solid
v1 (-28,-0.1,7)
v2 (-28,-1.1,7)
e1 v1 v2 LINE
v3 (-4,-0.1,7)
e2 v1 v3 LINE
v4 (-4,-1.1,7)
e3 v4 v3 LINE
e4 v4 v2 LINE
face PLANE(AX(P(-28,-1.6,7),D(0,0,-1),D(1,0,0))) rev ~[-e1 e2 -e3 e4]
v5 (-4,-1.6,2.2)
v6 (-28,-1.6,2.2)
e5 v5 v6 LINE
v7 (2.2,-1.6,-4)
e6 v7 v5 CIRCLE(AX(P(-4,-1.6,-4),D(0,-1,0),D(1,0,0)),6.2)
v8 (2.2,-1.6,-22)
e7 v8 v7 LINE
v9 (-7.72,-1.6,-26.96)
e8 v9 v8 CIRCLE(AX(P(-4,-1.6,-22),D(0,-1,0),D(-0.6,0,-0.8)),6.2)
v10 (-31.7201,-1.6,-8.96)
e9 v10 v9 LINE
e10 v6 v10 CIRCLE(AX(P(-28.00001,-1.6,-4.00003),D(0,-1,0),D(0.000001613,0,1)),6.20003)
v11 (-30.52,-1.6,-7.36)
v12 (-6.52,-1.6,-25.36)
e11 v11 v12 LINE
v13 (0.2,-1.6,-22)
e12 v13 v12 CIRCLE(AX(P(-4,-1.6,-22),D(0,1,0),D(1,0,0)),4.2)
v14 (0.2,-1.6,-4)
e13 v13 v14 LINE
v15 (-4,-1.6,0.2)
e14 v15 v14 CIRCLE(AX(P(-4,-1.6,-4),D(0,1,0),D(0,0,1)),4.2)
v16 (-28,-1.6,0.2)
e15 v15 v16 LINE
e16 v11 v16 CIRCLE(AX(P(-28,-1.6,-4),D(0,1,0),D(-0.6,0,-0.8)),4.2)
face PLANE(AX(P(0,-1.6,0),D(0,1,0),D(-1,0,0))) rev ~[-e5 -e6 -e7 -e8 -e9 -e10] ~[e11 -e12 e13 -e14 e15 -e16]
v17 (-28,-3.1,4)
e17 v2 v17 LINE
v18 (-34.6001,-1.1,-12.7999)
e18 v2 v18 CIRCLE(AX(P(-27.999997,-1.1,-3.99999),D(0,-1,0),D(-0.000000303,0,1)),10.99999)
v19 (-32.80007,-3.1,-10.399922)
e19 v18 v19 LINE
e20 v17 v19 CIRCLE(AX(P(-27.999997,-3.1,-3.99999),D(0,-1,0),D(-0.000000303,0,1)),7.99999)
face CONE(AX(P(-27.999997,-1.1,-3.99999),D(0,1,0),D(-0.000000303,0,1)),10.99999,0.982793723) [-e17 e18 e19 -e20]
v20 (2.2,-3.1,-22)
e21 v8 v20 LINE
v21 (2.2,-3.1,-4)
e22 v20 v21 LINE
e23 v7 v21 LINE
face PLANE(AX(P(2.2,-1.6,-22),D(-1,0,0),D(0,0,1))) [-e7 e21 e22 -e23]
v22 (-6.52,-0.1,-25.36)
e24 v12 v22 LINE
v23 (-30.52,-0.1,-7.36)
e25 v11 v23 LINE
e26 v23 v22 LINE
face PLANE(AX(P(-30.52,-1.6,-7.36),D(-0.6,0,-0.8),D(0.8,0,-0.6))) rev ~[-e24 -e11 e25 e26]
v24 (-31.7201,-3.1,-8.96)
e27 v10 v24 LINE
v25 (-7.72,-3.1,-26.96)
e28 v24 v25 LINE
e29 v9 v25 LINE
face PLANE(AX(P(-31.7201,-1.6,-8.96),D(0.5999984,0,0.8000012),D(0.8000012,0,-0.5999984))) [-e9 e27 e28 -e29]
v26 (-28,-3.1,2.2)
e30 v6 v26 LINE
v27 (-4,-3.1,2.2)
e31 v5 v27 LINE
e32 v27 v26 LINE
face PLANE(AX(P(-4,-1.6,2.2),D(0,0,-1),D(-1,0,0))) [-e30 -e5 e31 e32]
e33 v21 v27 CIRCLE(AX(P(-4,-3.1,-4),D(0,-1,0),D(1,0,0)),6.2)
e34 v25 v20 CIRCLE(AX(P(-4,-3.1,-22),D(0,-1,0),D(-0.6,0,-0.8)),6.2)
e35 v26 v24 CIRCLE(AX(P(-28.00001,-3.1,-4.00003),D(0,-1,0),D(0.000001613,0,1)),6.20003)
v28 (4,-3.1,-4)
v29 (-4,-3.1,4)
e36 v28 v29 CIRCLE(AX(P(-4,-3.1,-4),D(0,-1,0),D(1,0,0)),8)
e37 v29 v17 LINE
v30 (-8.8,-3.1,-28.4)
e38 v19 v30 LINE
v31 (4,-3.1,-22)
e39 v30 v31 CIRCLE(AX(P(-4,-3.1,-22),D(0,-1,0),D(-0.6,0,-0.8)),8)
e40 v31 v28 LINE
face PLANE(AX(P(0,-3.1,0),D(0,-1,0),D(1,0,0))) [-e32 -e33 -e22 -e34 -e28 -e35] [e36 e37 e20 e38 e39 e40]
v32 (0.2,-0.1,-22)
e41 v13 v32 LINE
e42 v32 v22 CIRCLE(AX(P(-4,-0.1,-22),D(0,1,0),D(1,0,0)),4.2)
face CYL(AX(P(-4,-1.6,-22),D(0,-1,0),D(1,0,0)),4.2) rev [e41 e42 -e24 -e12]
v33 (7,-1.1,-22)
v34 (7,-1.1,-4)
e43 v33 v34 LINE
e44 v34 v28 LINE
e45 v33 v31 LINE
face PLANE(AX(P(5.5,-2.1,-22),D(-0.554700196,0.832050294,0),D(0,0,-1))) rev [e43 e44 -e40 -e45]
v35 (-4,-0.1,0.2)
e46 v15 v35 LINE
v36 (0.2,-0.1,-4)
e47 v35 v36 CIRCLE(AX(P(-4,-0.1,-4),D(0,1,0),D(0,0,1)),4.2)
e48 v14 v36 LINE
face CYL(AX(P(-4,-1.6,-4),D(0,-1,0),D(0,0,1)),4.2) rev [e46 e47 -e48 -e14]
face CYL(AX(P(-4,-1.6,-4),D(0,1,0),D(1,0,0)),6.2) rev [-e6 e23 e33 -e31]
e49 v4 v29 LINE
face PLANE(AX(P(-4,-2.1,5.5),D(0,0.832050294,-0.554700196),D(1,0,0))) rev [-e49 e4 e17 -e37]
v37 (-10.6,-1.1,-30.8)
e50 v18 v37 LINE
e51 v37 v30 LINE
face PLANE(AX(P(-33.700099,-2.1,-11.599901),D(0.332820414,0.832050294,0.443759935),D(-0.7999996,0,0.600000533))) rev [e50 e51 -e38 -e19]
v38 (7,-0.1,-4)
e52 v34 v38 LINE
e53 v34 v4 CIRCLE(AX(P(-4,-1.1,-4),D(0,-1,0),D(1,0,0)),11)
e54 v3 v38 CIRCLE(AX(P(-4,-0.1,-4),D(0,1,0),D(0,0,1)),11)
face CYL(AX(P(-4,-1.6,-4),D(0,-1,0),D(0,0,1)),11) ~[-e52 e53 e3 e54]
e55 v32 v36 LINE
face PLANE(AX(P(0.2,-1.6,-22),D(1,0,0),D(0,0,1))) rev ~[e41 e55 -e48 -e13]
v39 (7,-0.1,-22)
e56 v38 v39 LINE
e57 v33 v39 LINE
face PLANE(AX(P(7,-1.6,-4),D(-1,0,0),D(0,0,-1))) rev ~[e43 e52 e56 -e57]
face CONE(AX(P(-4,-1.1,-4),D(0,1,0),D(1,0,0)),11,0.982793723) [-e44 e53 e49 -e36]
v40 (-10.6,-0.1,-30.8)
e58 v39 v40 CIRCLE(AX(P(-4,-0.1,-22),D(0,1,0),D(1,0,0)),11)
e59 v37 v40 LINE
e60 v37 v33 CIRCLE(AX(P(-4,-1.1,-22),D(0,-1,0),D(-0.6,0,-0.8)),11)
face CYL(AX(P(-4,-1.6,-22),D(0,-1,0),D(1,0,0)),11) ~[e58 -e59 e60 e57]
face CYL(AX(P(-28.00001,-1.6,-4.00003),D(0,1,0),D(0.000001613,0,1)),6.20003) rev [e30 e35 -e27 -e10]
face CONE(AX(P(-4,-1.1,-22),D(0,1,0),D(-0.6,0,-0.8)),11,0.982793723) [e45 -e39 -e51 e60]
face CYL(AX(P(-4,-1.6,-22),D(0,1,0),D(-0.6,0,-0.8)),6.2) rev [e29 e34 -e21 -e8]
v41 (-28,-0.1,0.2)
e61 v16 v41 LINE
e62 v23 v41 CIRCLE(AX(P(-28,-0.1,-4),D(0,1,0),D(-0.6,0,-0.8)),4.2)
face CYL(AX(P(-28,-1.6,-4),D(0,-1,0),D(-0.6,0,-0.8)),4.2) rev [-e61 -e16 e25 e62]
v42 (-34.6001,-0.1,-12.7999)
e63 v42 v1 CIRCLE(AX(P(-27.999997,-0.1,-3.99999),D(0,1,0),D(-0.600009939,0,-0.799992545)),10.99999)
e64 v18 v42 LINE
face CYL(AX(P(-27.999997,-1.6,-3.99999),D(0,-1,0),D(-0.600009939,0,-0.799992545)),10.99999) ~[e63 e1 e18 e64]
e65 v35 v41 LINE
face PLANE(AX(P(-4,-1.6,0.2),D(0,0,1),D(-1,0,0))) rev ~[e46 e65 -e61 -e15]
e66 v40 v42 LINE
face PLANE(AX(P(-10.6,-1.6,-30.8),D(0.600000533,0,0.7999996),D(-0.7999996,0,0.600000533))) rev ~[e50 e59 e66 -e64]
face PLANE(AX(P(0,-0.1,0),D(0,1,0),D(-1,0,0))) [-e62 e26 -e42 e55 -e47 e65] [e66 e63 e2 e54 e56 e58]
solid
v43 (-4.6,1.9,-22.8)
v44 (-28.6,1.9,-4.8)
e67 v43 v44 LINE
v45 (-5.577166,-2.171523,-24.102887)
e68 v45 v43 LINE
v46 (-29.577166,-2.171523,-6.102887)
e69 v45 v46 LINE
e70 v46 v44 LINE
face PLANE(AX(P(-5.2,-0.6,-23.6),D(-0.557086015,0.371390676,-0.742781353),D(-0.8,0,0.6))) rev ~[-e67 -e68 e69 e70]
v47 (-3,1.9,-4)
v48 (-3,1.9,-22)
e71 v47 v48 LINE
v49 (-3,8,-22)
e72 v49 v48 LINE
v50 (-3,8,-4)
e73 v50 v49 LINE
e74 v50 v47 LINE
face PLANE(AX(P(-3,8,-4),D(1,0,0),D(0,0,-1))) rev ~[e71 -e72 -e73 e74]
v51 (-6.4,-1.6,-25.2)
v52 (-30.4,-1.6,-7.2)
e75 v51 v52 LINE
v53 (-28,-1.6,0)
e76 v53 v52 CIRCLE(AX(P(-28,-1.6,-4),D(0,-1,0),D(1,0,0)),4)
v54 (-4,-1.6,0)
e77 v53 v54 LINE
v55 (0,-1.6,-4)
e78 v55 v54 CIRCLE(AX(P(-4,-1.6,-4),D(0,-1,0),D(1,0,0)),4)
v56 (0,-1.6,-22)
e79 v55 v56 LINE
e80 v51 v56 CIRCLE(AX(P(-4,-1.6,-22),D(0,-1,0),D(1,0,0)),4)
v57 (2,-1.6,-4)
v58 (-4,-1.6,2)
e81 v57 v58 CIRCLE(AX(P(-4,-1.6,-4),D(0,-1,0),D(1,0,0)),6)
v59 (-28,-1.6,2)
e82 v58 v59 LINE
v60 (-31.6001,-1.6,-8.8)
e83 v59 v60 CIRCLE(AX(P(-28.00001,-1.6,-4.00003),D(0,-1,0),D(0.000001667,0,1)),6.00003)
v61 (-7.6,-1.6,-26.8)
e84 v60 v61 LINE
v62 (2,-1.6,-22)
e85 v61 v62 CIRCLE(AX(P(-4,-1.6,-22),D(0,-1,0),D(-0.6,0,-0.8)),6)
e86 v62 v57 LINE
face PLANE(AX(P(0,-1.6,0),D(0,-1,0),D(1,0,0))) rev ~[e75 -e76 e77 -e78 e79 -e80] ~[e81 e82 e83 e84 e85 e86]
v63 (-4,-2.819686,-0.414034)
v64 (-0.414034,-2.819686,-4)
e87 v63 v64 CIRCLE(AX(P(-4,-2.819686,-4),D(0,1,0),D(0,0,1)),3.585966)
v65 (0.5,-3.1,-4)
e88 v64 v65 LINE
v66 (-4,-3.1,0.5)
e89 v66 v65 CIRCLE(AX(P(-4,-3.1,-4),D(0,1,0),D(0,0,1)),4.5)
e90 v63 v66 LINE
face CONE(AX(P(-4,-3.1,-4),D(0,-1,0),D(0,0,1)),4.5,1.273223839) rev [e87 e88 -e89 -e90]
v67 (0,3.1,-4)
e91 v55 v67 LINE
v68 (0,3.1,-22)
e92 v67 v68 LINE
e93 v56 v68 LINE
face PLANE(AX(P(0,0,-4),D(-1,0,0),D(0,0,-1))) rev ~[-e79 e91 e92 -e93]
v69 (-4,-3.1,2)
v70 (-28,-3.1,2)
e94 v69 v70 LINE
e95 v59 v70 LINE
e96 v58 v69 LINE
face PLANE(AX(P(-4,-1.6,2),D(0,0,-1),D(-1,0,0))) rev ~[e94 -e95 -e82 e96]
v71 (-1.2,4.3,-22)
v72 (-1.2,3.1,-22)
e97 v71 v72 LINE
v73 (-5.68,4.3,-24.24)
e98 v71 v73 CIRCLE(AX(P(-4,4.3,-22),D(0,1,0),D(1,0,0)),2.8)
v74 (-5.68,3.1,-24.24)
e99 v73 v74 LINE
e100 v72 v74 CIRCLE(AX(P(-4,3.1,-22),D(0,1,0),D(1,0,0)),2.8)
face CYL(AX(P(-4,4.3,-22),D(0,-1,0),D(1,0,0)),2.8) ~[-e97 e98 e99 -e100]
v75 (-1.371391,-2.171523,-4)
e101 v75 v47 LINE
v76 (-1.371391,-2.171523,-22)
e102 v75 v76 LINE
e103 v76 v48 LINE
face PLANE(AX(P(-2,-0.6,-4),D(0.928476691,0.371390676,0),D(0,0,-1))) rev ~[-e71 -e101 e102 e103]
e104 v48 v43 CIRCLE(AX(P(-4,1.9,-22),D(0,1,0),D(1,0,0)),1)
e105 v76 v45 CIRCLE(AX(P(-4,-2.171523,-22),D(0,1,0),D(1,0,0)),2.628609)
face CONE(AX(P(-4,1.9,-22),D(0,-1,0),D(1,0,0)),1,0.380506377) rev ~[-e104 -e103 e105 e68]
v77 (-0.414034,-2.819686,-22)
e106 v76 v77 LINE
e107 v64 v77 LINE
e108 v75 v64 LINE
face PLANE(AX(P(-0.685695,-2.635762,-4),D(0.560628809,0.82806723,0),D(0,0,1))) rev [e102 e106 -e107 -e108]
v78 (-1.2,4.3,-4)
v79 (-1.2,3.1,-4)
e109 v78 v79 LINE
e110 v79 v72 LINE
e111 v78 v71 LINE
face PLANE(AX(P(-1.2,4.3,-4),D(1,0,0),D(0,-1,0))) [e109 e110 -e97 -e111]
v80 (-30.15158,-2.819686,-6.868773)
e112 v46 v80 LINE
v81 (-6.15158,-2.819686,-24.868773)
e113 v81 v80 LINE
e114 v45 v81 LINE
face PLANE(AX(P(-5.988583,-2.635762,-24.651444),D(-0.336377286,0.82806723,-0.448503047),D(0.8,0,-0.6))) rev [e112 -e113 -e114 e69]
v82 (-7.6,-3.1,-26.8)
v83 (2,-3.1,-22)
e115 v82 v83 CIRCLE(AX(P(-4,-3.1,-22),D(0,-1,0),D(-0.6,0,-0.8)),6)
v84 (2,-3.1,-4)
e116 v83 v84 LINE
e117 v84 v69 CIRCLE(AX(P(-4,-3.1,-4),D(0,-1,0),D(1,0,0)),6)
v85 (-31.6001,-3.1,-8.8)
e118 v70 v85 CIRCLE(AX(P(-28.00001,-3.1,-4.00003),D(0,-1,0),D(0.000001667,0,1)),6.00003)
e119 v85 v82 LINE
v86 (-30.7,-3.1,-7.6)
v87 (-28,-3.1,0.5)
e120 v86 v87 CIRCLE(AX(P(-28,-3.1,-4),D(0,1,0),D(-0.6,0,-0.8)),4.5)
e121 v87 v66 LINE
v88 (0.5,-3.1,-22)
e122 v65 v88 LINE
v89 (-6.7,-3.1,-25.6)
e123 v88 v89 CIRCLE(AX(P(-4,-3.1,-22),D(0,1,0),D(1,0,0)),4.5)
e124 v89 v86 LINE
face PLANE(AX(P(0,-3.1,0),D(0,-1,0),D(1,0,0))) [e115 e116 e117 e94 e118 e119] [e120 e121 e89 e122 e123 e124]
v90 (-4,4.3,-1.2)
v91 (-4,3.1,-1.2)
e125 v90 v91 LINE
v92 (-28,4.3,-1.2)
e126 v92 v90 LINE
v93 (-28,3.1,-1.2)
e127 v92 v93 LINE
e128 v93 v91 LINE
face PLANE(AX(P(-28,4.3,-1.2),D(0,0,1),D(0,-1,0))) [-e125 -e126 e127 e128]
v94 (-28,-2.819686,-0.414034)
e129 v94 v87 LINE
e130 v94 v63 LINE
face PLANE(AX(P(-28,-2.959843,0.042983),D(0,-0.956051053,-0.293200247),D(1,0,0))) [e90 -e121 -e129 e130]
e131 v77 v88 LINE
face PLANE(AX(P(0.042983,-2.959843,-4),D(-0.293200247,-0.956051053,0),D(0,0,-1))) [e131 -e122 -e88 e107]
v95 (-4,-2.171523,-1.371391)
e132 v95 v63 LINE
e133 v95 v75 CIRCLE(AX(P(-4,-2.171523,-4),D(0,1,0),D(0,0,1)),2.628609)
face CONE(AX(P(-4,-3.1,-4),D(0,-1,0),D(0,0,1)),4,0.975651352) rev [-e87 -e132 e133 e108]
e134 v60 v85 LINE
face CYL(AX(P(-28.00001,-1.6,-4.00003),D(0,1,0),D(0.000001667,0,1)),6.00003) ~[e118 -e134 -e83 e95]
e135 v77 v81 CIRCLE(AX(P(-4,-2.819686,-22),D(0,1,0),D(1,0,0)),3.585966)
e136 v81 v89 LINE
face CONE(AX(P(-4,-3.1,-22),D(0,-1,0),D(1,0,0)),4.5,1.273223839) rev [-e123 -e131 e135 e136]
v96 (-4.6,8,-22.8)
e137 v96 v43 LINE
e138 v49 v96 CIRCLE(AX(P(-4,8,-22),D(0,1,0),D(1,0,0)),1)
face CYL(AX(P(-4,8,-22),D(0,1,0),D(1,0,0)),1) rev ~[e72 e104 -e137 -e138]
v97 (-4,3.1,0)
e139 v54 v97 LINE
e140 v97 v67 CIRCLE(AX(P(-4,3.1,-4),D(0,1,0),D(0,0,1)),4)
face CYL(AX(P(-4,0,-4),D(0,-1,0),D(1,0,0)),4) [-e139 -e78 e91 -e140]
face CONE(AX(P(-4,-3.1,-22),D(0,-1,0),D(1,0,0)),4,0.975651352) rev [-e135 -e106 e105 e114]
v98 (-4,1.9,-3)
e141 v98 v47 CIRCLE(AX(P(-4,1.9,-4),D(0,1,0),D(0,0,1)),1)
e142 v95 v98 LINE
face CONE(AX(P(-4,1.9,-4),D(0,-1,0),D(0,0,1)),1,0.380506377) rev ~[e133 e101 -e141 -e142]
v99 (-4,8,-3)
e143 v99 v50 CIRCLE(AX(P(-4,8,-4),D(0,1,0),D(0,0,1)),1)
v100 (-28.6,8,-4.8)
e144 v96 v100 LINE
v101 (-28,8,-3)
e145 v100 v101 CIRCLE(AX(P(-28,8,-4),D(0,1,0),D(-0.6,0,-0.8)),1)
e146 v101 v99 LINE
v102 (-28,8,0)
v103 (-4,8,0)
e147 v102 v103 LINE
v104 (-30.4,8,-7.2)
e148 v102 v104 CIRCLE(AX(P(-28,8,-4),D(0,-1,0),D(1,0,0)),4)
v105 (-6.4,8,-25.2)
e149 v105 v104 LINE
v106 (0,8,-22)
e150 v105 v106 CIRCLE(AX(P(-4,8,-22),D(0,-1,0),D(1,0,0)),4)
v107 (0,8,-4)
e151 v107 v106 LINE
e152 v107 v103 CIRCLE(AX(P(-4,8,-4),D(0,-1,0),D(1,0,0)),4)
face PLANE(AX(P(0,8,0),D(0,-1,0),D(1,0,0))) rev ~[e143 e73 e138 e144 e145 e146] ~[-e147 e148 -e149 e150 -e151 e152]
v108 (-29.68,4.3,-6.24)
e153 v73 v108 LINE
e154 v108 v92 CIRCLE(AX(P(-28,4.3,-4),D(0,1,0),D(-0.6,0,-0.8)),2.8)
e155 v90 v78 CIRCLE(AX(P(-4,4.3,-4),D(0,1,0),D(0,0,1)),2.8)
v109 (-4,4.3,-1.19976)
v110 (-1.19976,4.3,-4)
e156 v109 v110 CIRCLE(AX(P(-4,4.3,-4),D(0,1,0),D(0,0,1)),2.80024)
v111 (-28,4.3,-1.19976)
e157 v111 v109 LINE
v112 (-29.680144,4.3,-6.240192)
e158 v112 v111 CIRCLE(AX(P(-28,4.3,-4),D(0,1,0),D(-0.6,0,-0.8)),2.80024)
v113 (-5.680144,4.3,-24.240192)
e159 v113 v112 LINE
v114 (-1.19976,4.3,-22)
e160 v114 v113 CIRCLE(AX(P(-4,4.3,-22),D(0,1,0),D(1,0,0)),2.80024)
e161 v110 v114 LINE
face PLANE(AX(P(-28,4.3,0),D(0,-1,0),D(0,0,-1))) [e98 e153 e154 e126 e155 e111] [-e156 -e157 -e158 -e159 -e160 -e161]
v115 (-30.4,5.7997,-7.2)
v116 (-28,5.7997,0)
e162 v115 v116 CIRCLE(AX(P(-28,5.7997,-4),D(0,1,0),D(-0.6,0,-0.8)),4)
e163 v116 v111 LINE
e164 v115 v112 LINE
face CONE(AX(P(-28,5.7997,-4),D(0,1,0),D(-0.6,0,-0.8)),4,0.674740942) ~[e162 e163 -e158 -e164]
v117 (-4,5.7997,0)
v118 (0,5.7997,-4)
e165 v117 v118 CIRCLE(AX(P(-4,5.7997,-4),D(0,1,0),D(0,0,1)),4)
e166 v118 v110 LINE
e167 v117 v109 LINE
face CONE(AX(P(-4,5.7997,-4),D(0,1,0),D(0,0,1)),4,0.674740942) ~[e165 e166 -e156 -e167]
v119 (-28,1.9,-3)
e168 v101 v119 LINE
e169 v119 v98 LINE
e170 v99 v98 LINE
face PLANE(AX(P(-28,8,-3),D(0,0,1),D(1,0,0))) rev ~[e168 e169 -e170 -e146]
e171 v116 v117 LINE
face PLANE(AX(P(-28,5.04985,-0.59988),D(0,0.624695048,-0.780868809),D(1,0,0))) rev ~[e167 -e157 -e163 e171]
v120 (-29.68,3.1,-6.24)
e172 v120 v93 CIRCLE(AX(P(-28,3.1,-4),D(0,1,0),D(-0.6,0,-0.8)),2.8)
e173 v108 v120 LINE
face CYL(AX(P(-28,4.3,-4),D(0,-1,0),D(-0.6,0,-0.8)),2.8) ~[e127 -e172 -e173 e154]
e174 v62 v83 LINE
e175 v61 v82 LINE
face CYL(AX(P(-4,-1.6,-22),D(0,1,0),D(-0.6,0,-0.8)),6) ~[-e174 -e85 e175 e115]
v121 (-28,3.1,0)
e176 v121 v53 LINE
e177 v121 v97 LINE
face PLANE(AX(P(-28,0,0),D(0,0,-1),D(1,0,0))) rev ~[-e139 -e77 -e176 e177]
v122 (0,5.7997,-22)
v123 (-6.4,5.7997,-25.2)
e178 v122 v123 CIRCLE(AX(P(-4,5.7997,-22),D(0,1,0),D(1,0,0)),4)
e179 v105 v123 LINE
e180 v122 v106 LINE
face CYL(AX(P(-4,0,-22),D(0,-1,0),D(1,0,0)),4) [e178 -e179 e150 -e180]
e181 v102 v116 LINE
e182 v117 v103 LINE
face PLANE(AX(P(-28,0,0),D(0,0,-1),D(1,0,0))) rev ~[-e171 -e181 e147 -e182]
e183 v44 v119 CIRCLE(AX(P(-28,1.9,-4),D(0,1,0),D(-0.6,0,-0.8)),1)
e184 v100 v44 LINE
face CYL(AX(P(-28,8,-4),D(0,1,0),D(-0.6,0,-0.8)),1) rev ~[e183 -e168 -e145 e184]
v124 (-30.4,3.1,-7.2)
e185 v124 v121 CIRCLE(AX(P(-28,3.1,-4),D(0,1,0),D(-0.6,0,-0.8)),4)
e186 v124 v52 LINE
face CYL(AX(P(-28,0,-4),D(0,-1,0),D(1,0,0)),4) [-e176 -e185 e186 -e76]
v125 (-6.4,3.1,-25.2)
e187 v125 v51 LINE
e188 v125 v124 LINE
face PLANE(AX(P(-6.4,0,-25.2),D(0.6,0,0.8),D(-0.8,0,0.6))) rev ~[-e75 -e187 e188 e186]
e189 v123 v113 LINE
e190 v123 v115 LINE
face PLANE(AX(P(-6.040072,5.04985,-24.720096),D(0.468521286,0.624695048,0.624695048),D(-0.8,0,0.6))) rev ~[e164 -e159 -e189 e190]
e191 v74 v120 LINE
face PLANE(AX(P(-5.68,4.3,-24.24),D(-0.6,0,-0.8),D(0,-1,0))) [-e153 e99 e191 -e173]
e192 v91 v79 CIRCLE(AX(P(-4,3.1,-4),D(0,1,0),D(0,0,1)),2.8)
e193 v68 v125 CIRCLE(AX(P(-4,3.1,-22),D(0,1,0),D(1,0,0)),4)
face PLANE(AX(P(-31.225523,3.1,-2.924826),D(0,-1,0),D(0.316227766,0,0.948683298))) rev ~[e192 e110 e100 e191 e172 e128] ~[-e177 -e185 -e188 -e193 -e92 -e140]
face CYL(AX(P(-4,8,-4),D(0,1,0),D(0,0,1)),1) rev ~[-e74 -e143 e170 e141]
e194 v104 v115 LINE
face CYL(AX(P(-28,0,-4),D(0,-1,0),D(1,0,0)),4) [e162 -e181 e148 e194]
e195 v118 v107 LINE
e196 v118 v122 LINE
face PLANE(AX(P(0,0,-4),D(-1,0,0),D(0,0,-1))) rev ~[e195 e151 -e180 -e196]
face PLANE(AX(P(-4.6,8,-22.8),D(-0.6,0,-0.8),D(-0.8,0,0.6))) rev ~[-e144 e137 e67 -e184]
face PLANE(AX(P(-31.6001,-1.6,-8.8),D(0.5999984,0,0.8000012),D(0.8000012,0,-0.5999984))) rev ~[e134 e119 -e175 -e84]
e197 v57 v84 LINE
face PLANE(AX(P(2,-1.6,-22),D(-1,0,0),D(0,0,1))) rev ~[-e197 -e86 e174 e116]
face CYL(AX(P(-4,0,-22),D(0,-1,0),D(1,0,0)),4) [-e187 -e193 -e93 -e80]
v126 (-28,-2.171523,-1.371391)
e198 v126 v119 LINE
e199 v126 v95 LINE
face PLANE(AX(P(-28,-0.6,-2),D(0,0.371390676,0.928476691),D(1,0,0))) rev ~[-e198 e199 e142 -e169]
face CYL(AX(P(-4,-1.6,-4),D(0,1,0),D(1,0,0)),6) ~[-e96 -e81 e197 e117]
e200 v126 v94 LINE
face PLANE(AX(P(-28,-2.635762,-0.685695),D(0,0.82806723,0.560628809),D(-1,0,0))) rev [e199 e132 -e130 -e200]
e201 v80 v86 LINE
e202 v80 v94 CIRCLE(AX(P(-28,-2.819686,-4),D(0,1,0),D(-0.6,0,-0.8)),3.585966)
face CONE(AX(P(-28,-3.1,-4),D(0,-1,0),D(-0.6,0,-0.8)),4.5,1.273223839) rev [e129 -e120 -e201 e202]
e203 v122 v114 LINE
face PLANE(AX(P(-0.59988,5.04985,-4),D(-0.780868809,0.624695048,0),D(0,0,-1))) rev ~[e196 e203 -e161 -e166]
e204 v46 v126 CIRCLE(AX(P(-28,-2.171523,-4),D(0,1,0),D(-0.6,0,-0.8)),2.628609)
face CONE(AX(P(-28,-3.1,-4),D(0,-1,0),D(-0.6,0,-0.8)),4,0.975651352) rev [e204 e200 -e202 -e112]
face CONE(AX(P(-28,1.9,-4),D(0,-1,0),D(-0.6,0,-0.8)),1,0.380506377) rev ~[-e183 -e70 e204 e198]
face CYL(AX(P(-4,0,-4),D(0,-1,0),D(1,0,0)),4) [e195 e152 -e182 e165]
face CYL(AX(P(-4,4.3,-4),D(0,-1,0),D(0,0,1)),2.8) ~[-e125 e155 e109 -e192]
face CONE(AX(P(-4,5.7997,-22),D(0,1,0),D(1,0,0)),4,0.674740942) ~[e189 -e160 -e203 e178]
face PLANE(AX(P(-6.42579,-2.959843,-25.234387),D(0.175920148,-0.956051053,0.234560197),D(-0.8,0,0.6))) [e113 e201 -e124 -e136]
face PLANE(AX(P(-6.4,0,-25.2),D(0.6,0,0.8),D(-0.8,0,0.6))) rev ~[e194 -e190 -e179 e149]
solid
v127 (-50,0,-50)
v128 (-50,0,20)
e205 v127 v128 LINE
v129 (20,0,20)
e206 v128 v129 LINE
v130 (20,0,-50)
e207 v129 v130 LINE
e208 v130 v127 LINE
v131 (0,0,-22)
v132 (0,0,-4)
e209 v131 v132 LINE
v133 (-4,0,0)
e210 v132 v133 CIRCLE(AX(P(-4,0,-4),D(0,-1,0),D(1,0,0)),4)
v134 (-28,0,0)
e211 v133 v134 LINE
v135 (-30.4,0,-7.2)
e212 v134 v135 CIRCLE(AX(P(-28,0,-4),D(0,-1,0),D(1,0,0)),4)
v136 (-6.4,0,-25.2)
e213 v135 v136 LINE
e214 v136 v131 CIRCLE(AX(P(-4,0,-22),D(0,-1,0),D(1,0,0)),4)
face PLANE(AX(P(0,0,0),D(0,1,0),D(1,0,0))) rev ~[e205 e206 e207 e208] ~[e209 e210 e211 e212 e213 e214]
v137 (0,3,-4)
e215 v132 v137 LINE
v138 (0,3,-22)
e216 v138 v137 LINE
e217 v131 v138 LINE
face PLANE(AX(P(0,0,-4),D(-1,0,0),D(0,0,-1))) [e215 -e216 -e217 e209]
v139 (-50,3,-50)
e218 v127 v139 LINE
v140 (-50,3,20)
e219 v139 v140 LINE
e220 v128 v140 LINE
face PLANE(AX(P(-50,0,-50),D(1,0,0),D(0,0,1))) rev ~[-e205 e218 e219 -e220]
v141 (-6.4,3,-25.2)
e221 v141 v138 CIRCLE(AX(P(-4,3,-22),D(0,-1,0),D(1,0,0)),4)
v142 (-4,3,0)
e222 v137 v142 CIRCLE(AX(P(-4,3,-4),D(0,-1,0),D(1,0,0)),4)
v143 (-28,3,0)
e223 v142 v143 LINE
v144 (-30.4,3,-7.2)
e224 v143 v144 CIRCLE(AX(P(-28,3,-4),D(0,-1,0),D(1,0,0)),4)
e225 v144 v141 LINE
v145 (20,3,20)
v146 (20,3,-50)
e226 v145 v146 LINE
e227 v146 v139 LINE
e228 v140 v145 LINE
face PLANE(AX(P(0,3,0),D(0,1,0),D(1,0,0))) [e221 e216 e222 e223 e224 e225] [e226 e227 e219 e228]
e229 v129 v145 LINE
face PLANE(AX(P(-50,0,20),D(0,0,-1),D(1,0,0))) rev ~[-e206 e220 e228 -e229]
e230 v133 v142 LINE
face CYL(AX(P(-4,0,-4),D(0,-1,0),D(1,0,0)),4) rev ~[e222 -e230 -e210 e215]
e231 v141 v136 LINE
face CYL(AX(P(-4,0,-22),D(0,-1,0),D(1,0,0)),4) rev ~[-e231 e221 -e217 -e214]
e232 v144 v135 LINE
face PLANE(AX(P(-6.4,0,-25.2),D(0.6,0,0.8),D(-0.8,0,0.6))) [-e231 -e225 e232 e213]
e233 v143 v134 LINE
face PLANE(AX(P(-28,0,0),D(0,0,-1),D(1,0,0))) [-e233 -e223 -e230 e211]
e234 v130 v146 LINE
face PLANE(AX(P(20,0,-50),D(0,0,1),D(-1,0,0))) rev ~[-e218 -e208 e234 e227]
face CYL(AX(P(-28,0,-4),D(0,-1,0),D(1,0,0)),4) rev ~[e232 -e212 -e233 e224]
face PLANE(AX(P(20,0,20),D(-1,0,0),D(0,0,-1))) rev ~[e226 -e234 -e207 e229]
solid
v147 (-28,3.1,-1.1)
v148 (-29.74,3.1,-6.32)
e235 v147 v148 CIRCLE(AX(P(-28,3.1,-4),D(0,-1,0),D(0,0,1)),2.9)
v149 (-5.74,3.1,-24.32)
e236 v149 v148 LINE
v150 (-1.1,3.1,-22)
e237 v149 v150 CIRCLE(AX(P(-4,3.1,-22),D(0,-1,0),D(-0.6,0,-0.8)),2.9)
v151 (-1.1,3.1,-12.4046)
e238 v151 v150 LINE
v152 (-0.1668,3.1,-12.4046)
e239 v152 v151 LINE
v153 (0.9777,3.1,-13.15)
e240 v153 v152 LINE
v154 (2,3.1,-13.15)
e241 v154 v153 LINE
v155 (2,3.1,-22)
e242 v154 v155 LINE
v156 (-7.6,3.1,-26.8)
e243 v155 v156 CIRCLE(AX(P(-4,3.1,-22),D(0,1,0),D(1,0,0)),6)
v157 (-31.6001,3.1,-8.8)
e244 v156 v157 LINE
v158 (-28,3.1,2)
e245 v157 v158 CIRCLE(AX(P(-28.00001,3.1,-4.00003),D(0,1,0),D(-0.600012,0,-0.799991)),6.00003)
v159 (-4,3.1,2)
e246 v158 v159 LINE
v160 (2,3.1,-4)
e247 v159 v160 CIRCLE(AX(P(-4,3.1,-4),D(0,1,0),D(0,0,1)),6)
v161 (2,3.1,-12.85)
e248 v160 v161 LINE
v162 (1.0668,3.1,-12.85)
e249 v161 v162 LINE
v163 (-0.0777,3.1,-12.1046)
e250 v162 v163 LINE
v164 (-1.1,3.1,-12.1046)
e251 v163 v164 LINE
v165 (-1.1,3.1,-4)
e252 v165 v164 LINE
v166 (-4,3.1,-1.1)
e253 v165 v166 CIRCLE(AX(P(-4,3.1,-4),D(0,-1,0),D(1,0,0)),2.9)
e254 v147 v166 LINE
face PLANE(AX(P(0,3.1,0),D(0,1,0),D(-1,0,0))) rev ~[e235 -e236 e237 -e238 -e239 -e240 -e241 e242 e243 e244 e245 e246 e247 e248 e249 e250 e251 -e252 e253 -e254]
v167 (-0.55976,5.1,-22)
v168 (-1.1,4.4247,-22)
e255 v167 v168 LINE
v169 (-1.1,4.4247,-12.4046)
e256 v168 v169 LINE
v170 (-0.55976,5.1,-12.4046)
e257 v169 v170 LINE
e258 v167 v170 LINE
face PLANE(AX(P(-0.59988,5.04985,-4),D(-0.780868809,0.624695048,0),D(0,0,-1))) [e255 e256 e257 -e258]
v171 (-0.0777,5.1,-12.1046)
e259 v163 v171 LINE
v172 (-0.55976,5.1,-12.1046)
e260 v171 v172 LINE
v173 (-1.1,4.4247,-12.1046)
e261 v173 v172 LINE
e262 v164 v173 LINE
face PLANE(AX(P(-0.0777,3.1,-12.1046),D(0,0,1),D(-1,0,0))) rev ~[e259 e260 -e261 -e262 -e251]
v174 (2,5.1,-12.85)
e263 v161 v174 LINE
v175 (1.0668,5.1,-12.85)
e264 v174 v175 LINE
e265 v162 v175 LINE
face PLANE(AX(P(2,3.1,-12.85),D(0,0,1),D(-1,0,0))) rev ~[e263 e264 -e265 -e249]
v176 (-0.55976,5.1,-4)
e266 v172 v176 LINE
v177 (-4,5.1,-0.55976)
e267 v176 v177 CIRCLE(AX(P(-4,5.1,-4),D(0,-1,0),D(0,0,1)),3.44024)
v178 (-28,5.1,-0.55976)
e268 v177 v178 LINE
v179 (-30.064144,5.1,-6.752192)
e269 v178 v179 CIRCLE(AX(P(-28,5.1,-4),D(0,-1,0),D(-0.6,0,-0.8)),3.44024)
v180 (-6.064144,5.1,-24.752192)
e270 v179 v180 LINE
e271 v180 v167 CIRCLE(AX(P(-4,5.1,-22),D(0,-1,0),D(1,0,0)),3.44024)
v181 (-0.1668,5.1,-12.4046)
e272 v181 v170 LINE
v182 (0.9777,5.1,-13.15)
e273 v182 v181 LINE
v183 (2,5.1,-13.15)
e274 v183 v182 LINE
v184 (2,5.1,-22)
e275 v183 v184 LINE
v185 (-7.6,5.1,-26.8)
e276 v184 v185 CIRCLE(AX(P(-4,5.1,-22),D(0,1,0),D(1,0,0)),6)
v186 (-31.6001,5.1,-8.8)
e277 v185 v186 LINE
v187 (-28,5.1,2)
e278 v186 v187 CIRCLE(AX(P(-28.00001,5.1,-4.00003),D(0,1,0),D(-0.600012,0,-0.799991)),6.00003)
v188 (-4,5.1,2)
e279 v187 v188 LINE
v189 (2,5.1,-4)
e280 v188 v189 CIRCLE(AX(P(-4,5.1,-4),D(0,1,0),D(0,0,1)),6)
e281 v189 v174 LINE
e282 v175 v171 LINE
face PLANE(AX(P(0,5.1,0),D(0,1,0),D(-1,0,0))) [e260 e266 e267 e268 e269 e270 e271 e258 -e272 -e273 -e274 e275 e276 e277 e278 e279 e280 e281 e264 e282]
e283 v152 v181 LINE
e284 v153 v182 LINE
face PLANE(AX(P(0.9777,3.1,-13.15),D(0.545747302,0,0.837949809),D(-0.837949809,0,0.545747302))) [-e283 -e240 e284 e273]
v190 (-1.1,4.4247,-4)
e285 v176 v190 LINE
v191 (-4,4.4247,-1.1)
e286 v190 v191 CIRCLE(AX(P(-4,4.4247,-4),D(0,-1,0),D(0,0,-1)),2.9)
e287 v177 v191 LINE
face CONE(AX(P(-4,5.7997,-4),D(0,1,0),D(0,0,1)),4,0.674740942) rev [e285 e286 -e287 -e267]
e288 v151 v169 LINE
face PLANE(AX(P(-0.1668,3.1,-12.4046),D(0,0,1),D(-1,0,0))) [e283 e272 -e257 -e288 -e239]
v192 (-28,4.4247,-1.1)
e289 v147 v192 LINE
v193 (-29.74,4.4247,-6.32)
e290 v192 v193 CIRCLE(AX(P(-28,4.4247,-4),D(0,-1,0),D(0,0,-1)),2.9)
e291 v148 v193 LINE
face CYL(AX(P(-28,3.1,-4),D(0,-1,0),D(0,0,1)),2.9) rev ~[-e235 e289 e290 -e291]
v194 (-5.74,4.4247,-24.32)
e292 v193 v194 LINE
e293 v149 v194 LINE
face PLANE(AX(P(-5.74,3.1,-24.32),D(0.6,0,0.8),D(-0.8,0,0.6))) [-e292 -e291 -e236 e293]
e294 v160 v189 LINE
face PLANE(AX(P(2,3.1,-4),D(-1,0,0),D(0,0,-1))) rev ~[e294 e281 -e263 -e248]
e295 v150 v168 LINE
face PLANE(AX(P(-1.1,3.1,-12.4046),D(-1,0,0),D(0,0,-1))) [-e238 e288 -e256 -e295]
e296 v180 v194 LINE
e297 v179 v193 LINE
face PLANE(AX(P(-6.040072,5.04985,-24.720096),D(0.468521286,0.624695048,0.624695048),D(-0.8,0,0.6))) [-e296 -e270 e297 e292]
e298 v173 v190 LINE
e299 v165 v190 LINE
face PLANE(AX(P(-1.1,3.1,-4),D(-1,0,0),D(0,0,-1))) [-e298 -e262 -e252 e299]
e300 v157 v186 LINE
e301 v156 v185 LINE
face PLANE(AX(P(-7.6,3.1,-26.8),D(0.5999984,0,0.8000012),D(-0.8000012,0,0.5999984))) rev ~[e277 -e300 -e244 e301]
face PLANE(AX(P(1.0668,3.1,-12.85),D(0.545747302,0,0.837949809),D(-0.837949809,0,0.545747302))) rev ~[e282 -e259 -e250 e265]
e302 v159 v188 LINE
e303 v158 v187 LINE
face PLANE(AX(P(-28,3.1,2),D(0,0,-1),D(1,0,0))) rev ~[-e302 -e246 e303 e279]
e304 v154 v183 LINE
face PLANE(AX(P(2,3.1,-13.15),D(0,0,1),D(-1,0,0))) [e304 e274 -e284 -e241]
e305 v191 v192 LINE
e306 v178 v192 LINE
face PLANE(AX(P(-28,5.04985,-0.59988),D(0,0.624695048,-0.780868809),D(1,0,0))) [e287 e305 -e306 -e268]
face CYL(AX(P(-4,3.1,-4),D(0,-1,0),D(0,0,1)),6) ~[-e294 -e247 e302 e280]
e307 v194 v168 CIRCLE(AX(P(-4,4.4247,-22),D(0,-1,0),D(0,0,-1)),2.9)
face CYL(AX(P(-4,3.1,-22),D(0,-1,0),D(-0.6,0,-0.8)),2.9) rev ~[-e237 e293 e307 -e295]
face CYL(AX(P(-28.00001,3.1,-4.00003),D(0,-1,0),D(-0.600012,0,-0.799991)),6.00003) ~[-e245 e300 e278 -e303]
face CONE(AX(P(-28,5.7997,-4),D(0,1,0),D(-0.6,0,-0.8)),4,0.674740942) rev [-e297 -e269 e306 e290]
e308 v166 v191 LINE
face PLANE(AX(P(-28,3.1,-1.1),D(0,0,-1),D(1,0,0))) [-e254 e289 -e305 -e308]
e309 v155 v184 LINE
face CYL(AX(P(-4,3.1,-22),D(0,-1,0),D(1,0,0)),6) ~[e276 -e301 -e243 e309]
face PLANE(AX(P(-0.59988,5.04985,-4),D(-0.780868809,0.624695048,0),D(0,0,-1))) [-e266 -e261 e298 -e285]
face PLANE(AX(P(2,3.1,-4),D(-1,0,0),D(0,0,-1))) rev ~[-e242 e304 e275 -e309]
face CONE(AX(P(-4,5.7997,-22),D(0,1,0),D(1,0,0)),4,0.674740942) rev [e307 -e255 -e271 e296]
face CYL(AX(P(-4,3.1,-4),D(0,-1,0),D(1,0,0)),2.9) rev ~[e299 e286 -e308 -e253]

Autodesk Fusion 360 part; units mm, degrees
sketch "Sketch1" plane through (0, 0, 0) normal (0, 1, 0) x (1, 0, 0)
  line L0 (-50, -20) -> (20, -20)
  line L1 (20, -20) -> (20, 50)
  line L2 (20, 50) -> (-50, 50)
  line L3 (-50, 50) -> (-50, -20)
  dimension "d1" = 70
  dimension "d2" = 70
extrude "Extrude1" add sketch "Sketch1" along normal blind 3 makes body 1
sketch "Sketch2" plane through (0, 0, 0) normal (0, -1, 0) x (1, 0, 0)
  line L0 (-50, 20) -> (-50, -50)
  line L1 (-50, -50) -> (20, -50)
  line L2 (20, -50) -> (20, 20)
  line L3 (20, 20) -> (-50, 20)
  line L4 (-40, 0) -> (0, 0)
  line L5 (0, 0) -> (0, -30)
  line L6 (0, -30) -> (-40, 0)
  circle A0 centre (-28, -4) radius 4
  circle A1 centre (-4, -4) radius 4
  circle A2 centre (-4, -22) radius 4
  dimension "d5" = 40
  dimension "d6" = 30
  dimension "d9" = 8
extrude "Extrude2" add sketch "Sketch2" against normal blind 8 separate body contours L4 L5 L6 A0 A1 A2 | A0 | A1 | A2 makes body 2
extrude "Extrude3" add 1 faces at (-13.6, 0, -10.8) along direction (0, -1, 0) blind 1.6 on bodies 2 bodies 2
sketch "Sketch3" plane through (0, -1.6, 0) normal (0, -1, 0) x (1, 0, 0)
  arc A0 (-28, 0) -> (-30.4, -7.2) centre (-28, -4) ccw
  line L0 (-30.4, -7.2) -> (-6.4, -25.2)
  arc A1 (-6.4, -25.2) -> (0, -22) centre (-4, -22) ccw
  line L1 (0, -22) -> (0, -4)
  arc A2 (0, -4) -> (-4, 0) centre (-4, -4) ccw
  line L2 (-4, 0) -> (-28, 0)
  line L3 (-4, 2) -> (-28, 2)
  arc A3 (-28, 2) -> (-31.6001, -8.8) centre (-28, -4) ccw
  line L4 (-31.6001, -8.8) -> (-7.6, -26.8)
  arc A4 (-7.6, -26.8) -> (2, -22) centre (-4, -22) ccw
  line L5 (2, -22) -> (2, -4)
  arc A5 (2, -4) -> (-4, 2) centre (-4, -4) ccw
  dimension "d12" = 2
extrude "Extrude4" add sketch "Sketch3" along normal blind 1.5 contours A0 L0 A1 L1 A2 L2 | L3 A3 L4 A4 L5 A5 bodies 2
sketch "Sketch4" plane through (0, -1.6, 0) normal (0, 1, 0) x (-1, 0, 0)
  arc A0 (4, 2) -> (-2, -4) centre (4, -4) ccw
  line L0 (-2, -4) -> (-2, -22)
  arc A1 (-2, -22) -> (7.6, -26.8) centre (4, -22) ccw
  line L1 (7.6, -26.8) -> (31.6001, -8.8)
  arc A2 (31.6001, -8.8) -> (28, 2) centre (28, -4) ccw
  line L2 (28, 2) -> (4, 2)
  line L3 (30.4, -7.2) -> (6.4, -25.2)
  arc A3 (0, -22) -> (6.4, -25.2) centre (4, -22) ccw
  line L4 (0, -22) -> (0, -4)
  arc A4 (4, 0) -> (0, -4) centre (4, -4) ccw
  line L5 (4, 0) -> (28, 0)
  arc A5 (30.4, -7.2) -> (28, 0) centre (28, -4) ccw
  line L6 (4, 0.2) -> (28, 0.2)
  arc A6 (30.52, -7.36) -> (28, 0.2) centre (28, -4) ccw
  line L7 (30.52, -7.36) -> (6.52, -25.36)
  arc A7 (-0.2, -22) -> (6.52, -25.36) centre (4, -22) ccw
  line L8 (-0.2, -22) -> (-0.2, -4)
  arc A8 (4, 0.2) -> (-0.2, -4) centre (4, -4) ccw
  arc A9 (4, 7) -> (-7, -4) centre (4, -4) ccw
  line L9 (-7, -4) -> (-7, -22)
  arc A10 (-7, -22) -> (10.6, -30.8) centre (4, -22) ccw
  line L10 (10.6, -30.8) -> (34.6001, -12.7999)
  arc A11 (34.6001, -12.7999) -> (28, 7) centre (28, -4) ccw
  line L11 (28, 7) -> (4, 7)
  dimension "d15" = 0.2
  dimension "d16" = 5
extrude "Extrude5" add sketch "Sketch4" along normal up to surface (1.5 mm away) separate body contours A0 L0 A1 L1 A2 L2 | A9 L9 A10 L10 A11 L11 makes body 3
sketch "Sketch5" plane through (0, -1.6, 0) normal (0, -1, 0) x (1, 0, 0)
  arc A0 (-28, 0.2) -> (-30.52, -7.36) centre (-28, -4) ccw
  line L0 (-28, 0.2) -> (-4, 0.2)
  arc A1 (0.2, -4) -> (-4, 0.2) centre (-4, -4) ccw
  line L1 (0.2, -4) -> (0.2, -22)
  arc A2 (-6.52, -25.36) -> (0.2, -22) centre (-4, -22) ccw
  line L2 (-6.52, -25.36) -> (-30.52, -7.36)
  line L3 (-4, 7) -> (-28, 7)
  arc A3 (-28, 7) -> (-34.6001, -12.7999) centre (-28, -4) ccw
  line L4 (-34.6001, -12.7999) -> (-10.6, -30.8)
  arc A4 (-10.6, -30.8) -> (7, -22) centre (-4, -22) ccw
  line L5 (7, -22) -> (7, -4)
  arc A5 (7, -4) -> (-4, 7) centre (-4, -4) ccw
  arc A6 (2, -4) -> (-4, 2) centre (-4, -4) ccw
  line L6 (-4, 2) -> (-28, 2)
  arc A7 (-28, 2) -> (-31.6001, -8.8) centre (-28, -4) ccw
  line L7 (-31.6001, -8.8) -> (-7.6, -26.8)
  arc A8 (-7.6, -26.8) -> (2, -22) centre (-4, -22) ccw
  line L8 (2, -22) -> (2, -4)
  line L9 (-4, 2.2) -> (-28, 2.2)
  arc A9 (-28, 2.2) -> (-31.7201, -8.96) centre (-28, -4) ccw
  line L10 (-31.7201, -8.96) -> (-7.72, -26.96)
  arc A10 (-7.72, -26.96) -> (2.2, -22) centre (-4, -22) ccw
  line L11 (2.2, -22) -> (2.2, -4)
  arc A11 (2.2, -4) -> (-4, 2.2) centre (-4, -4) ccw
  dimension "d19" = 0.2
extrude "Extrude6" add sketch "Sketch5" along normal up to surface (1.5 mm away) contours L3 A3 L4 A4 L5 A5 bodies 3
chamfer "Chamfer1" distance 2 distance2 3 6 edges at (0.9193, -3.1, -31.8387) (-22.6, -3.1, -21.8) (-38.4355, -3.1, -0.5215) (-16, -3.1, 7) (3.7782, -3.1, 3.7782) (7, -3.1, -13) measured on face at (-9.7034, -1.6, -31.4059) measured on face at (-26.6001, -2.1, -18.8) measured on face at (-35.4291, -1.6, -12.1122) measured on face at (-12, -2.1, 7) measured on face at (-2.9544, -1.6, 6.9502) measured on face at (7, -1.1, -16) on bodies 3
sketch "Sketch6" plane through (0, 8, 0) normal (0, 1, 0) x (-1, 0, 0)
  arc A0 (30.4, -7.2) -> (28, 0) centre (28, -4) ccw
  line L0 (28, 0) -> (4, 0)
  arc A1 (4, 0) -> (0, -4) centre (4, -4) ccw
  line L1 (0, -4) -> (0, -22)
  arc A2 (0, -22) -> (6.4, -25.2) centre (4, -22) ccw
  line L2 (6.4, -25.2) -> (30.4, -7.2)
  arc A3 (3, -22) -> (4.6, -22.8) centre (4, -22) ccw
  line L3 (4.6, -22.8) -> (28.6, -4.8)
  arc A4 (28.6, -4.8) -> (28, -3) centre (28, -4) ccw
  line L4 (28, -3) -> (4, -3)
  arc A5 (4, -3) -> (3, -4) centre (4, -4) ccw
  line L5 (3, -4) -> (3, -22)
  dimension "d24" = -3
extrude "Extrude7" cut sketch "Sketch6" against normal up to surface (11.1 mm away) contours A3 L3 A4 L4 A5 L5 bodies 2
chamfer "Chamfer2" distance 2 distance2 5 6 edges at (-16.6, -3.1, -13.8) (-28.9487, -3.1, -3.6838) (-16, -3.1, -3) (-3.2929, -3.1, -3.2929) (-3, -3.1, -13) (-3.5528, -3.1, -22.8944) measured on face at (-22.6, -3.1, -13.4666) measured on face at (-22.6, -3.1, -13.4666) measured on face at (-22.6, -3.1, -13.4666) measured on face at (-22.6, -3.1, -13.4666) measured on face at (-22.6, -3.1, -13.4666) measured on face at (-22.6, -3.1, -13.4666) on bodies 2
ref_plane "WorkPlane1" through (-15, 3.1, -15) normal (0, 1, 0) x (0, 0, 1)
sketch "Sketch7" plane through (0.8764, 3.1, -2.488) normal (0, 1, 0) x (1, 0, 0)
  line L0 (-4.8764, 0.512) -> (-28.8764, 0.512)
  arc A0 (-29.4764, 2.312) -> (-28.8764, 0.512) centre (-28.8764, 1.512) ccw
  line L1 (-29.4764, 2.312) -> (-5.4764, 20.312)
  arc A1 (-3.8764, 19.512) -> (-5.4764, 20.312) centre (-4.8764, 19.512) ccw
  line L2 (-3.8764, 19.512) -> (-3.8764, 1.512)
  arc A2 (-4.8764, 0.512) -> (-3.8764, 1.512) centre (-4.8764, 1.512) ccw
  arc A3 (-31.2764, 4.712) -> (-28.8764, -2.488) centre (-28.8764, 1.512) ccw
  line L3 (-28.8764, -2.488) -> (-4.8764, -2.488)
  arc A4 (-4.8764, -2.488) -> (-0.8764, 1.512) centre (-4.8764, 1.512) ccw
  line L4 (-0.8764, 1.512) -> (-0.8764, 19.512)
  arc A5 (-0.8764, 19.512) -> (-7.2764, 22.712) centre (-4.8764, 19.512) ccw
  line L5 (-7.2764, 22.712) -> (-31.2764, 4.712)
ref_plane "WorkPlane2" through (0, 0, -10) normal (0, 0, 1) x (1, 0, 0)
sketch "Sketch8" plane through (0, 0, -10) normal (0, 0, 1) x (1, 0, 0)
  line L0 (0, 4.3) -> (-1.2, 4.3)
  line L1 (-1.2, 4.3) -> (-1.2, 3.1)
  line L2 (-1.2, 3.1) -> (0, 3.1)
  line L3 (0, 3.1) -> (0, 4.3)
  point P0 (0, 3.1)
  dimension "d31" = 1.2
  dimension "d32" = 1.2
sweep "Sweep1" cut profiles "Sketch8" path "Sketch7" along L5 A3 L3 A4 L4 A5 section 1 bodies 2
chamfer "Chamfer3" distance 1.5 distance2 1.2 6 edges at (-2.2112, 4.3, -25.5777) (-18.4, 4.3, -16.2) (-31.7947, 4.3, -2.7351) (-16, 4.3, 0) (-1.1716, 4.3, -1.1716) (0, 4.3, -13) measured on face at (-0.0048, 5.5333, -22.1967) measured on face at (-14.4, 6.7667, -19.2) measured on face at (-30.5538, 6.7667, -7.0786) measured on face at (-12, 5.5333, 0) measured on face at (-0.0045, 6.7667, -3.8097) measured on face at (0, 6.7667, -16) on bodies 2
sketch "Sketch9" plane through (0, 3.1, 0) normal (0, 1, 0) x (-1, 0, 0)
  line L0 (0, -4) -> (0, -22)
  arc A0 (0, -22) -> (6.4, -25.2) centre (4, -22) ccw
  line L1 (6.4, -25.2) -> (30.4, -7.2)
  arc A1 (30.4, -7.2) -> (28, 0) centre (28, -4) ccw
  line L2 (28, 0) -> (4, 0)
  arc A2 (4, 0) -> (0, -4) centre (4, -4) ccw
  arc A3 (1.2, -22) -> (5.68, -24.24) centre (4, -22) ccw
  line L3 (1.2, -22) -> (1.2, -4)
  arc A4 (4, -1.2) -> (1.2, -4) centre (4, -4) ccw
  line L4 (4, -1.2) -> (28, -1.2)
  arc A5 (29.68, -6.24) -> (28, -1.2) centre (28, -4) ccw
  line L5 (29.68, -6.24) -> (5.68, -24.24)
  line L6 (4, -3) -> (28, -3)
  arc A6 (28.6, -4.8) -> (28, -3) centre (28, -4) ccw
  line L7 (28.6, -4.8) -> (4.6, -22.8)
  arc A7 (3, -22) -> (4.6, -22.8) centre (4, -22) ccw
  line L8 (3, -22) -> (3, -4)
  arc A8 (4, -3) -> (3, -4) centre (4, -4) ccw
  arc A9 (30.4, -7.2) -> (28, 0) centre (28, -4) ccw construction
  line L9 (28, 0) -> (4, 0) construction
  arc A10 (4, 0) -> (0, -4) centre (4, -4) ccw construction
  line L10 (0, -4) -> (0, -22) construction
  arc A11 (0, -22) -> (6.4, -25.2) centre (4, -22) ccw construction
  line L11 (6.4, -25.2) -> (30.4, -7.2) construction
  arc A12 (4, 2) -> (-2, -4) centre (4, -4) ccw
  line L12 (-2, -4) -> (-2, -22)
  arc A13 (-2, -22) -> (7.6, -26.8) centre (4, -22) ccw
  line L13 (7.6, -26.8) -> (31.6001, -8.8)
  arc A14 (31.6001, -8.8) -> (28, 2) centre (28, -4) ccw
  line L14 (28, 2) -> (4, 2)
  dimension "d41" = 2
extrude "Extrude8" add sketch "Sketch9" along normal blind 2 separate body contours L0 A0 L1 A1 L2 A2 | A3 L3 A4 L4 A5 L5 | A12 L12 A13 L13 A14 L14 makes body 4
combine "Combine1" operation cut target body 4 tool bodies 2 keep tools
combine "Combine2" operation cut target body 1 tool bodies 2 keep tools makes body 5 at (-12.704, 0, -10.352)
sketch "Sketch10" plane through (0, 3.1, 0) normal (0, -1, 0) x (1, 0, 0)
  arc A0 (-1.2, -4) -> (-4, -1.2) centre (-4, -4) ccw
  line L0 (-1.2, -4) -> (-1.2, -22)
  arc A1 (-5.68, -24.24) -> (-1.2, -22) centre (-4, -22) ccw
  line L1 (-5.68, -24.24) -> (-29.68, -6.24)
  arc A2 (-28, -1.2) -> (-29.68, -6.24) centre (-28, -4) ccw
  line L2 (-28, -1.2) -> (-4, -1.2)
  line L3 (-4, 2) -> (-28, 2)
  arc A3 (-28, 2) -> (-31.6001, -8.8) centre (-28, -4) ccw
  line L4 (-31.6001, -8.8) -> (-7.6, -26.8)
  arc A4 (-7.6, -26.8) -> (2, -22) centre (-4, -22) ccw
  line L5 (2, -22) -> (2, -4)
  arc A5 (2, -4) -> (-4, 2) centre (-4, -4) ccw
  arc A6 (-5.74, -24.32) -> (-1.1, -22) centre (-4, -22) ccw
  line L6 (-1.1, -4) -> (-1.1, -22)
  arc A7 (-1.1, -4) -> (-4, -1.1) centre (-4, -4) ccw
  line L7 (-28, -1.1) -> (-4, -1.1)
  arc A8 (-28, -1.1) -> (-29.74, -6.32) centre (-28, -4) ccw
  line L8 (-5.74, -24.32) -> (-29.74, -6.32)
  line L9 (2, -13.15) -> (0.9777, -13.15)
  line L10 (0.9777, -13.15) -> (-0.1668, -12.4046)
  line L11 (-0.1668, -12.4046) -> (-1.1, -12.4046)
  line L12 (2, -12.85) -> (1.0668, -12.85)
  line L13 (1.0668, -12.85) -> (-0.0777, -12.1046)
  line L14 (-0.0777, -12.1046) -> (-1.1, -12.1046)
  line L15 (2, -13) -> (4, -13) construction
  dimension "d44" = -0.1
  dimension "d47" = 0.3
  dimension "d48" = 0.3
  dimension "d49" = 0.3
extrude "Extrude9" cut sketch "Sketch10" against normal up to surface (2 mm away) contours L5 L6 L9 L10 L11 L12 L13 L14 | A6 L6 A7 L7 A8 L8 bodies 4
chamfer "Chamfer4" distance 1 angle 45 6 edges at (-1, -3.1, -13) (-1.8787, -3.1, -1.8787) (-16, -3.1, -1) (-30.846, -3.1, -3.0513) (-17.8, -3.1, -15.4) (-2.6584, -3.1, -24.6833) on bodies 2
chamfer "Chamfer5" distance 0.5 angle 45 6 edges at (-16, -3.1, 0) (-31.7947, -3.1, -2.7351) (-18.4, -3.1, -16.2) (-2.2112, -3.1, -25.5777) (0, -3.1, -13) (-1.1716, -3.1, -1.1716) on bodies 2
hidden bodies 5
equation "d48 = d47"
equation "d49 = d47"
